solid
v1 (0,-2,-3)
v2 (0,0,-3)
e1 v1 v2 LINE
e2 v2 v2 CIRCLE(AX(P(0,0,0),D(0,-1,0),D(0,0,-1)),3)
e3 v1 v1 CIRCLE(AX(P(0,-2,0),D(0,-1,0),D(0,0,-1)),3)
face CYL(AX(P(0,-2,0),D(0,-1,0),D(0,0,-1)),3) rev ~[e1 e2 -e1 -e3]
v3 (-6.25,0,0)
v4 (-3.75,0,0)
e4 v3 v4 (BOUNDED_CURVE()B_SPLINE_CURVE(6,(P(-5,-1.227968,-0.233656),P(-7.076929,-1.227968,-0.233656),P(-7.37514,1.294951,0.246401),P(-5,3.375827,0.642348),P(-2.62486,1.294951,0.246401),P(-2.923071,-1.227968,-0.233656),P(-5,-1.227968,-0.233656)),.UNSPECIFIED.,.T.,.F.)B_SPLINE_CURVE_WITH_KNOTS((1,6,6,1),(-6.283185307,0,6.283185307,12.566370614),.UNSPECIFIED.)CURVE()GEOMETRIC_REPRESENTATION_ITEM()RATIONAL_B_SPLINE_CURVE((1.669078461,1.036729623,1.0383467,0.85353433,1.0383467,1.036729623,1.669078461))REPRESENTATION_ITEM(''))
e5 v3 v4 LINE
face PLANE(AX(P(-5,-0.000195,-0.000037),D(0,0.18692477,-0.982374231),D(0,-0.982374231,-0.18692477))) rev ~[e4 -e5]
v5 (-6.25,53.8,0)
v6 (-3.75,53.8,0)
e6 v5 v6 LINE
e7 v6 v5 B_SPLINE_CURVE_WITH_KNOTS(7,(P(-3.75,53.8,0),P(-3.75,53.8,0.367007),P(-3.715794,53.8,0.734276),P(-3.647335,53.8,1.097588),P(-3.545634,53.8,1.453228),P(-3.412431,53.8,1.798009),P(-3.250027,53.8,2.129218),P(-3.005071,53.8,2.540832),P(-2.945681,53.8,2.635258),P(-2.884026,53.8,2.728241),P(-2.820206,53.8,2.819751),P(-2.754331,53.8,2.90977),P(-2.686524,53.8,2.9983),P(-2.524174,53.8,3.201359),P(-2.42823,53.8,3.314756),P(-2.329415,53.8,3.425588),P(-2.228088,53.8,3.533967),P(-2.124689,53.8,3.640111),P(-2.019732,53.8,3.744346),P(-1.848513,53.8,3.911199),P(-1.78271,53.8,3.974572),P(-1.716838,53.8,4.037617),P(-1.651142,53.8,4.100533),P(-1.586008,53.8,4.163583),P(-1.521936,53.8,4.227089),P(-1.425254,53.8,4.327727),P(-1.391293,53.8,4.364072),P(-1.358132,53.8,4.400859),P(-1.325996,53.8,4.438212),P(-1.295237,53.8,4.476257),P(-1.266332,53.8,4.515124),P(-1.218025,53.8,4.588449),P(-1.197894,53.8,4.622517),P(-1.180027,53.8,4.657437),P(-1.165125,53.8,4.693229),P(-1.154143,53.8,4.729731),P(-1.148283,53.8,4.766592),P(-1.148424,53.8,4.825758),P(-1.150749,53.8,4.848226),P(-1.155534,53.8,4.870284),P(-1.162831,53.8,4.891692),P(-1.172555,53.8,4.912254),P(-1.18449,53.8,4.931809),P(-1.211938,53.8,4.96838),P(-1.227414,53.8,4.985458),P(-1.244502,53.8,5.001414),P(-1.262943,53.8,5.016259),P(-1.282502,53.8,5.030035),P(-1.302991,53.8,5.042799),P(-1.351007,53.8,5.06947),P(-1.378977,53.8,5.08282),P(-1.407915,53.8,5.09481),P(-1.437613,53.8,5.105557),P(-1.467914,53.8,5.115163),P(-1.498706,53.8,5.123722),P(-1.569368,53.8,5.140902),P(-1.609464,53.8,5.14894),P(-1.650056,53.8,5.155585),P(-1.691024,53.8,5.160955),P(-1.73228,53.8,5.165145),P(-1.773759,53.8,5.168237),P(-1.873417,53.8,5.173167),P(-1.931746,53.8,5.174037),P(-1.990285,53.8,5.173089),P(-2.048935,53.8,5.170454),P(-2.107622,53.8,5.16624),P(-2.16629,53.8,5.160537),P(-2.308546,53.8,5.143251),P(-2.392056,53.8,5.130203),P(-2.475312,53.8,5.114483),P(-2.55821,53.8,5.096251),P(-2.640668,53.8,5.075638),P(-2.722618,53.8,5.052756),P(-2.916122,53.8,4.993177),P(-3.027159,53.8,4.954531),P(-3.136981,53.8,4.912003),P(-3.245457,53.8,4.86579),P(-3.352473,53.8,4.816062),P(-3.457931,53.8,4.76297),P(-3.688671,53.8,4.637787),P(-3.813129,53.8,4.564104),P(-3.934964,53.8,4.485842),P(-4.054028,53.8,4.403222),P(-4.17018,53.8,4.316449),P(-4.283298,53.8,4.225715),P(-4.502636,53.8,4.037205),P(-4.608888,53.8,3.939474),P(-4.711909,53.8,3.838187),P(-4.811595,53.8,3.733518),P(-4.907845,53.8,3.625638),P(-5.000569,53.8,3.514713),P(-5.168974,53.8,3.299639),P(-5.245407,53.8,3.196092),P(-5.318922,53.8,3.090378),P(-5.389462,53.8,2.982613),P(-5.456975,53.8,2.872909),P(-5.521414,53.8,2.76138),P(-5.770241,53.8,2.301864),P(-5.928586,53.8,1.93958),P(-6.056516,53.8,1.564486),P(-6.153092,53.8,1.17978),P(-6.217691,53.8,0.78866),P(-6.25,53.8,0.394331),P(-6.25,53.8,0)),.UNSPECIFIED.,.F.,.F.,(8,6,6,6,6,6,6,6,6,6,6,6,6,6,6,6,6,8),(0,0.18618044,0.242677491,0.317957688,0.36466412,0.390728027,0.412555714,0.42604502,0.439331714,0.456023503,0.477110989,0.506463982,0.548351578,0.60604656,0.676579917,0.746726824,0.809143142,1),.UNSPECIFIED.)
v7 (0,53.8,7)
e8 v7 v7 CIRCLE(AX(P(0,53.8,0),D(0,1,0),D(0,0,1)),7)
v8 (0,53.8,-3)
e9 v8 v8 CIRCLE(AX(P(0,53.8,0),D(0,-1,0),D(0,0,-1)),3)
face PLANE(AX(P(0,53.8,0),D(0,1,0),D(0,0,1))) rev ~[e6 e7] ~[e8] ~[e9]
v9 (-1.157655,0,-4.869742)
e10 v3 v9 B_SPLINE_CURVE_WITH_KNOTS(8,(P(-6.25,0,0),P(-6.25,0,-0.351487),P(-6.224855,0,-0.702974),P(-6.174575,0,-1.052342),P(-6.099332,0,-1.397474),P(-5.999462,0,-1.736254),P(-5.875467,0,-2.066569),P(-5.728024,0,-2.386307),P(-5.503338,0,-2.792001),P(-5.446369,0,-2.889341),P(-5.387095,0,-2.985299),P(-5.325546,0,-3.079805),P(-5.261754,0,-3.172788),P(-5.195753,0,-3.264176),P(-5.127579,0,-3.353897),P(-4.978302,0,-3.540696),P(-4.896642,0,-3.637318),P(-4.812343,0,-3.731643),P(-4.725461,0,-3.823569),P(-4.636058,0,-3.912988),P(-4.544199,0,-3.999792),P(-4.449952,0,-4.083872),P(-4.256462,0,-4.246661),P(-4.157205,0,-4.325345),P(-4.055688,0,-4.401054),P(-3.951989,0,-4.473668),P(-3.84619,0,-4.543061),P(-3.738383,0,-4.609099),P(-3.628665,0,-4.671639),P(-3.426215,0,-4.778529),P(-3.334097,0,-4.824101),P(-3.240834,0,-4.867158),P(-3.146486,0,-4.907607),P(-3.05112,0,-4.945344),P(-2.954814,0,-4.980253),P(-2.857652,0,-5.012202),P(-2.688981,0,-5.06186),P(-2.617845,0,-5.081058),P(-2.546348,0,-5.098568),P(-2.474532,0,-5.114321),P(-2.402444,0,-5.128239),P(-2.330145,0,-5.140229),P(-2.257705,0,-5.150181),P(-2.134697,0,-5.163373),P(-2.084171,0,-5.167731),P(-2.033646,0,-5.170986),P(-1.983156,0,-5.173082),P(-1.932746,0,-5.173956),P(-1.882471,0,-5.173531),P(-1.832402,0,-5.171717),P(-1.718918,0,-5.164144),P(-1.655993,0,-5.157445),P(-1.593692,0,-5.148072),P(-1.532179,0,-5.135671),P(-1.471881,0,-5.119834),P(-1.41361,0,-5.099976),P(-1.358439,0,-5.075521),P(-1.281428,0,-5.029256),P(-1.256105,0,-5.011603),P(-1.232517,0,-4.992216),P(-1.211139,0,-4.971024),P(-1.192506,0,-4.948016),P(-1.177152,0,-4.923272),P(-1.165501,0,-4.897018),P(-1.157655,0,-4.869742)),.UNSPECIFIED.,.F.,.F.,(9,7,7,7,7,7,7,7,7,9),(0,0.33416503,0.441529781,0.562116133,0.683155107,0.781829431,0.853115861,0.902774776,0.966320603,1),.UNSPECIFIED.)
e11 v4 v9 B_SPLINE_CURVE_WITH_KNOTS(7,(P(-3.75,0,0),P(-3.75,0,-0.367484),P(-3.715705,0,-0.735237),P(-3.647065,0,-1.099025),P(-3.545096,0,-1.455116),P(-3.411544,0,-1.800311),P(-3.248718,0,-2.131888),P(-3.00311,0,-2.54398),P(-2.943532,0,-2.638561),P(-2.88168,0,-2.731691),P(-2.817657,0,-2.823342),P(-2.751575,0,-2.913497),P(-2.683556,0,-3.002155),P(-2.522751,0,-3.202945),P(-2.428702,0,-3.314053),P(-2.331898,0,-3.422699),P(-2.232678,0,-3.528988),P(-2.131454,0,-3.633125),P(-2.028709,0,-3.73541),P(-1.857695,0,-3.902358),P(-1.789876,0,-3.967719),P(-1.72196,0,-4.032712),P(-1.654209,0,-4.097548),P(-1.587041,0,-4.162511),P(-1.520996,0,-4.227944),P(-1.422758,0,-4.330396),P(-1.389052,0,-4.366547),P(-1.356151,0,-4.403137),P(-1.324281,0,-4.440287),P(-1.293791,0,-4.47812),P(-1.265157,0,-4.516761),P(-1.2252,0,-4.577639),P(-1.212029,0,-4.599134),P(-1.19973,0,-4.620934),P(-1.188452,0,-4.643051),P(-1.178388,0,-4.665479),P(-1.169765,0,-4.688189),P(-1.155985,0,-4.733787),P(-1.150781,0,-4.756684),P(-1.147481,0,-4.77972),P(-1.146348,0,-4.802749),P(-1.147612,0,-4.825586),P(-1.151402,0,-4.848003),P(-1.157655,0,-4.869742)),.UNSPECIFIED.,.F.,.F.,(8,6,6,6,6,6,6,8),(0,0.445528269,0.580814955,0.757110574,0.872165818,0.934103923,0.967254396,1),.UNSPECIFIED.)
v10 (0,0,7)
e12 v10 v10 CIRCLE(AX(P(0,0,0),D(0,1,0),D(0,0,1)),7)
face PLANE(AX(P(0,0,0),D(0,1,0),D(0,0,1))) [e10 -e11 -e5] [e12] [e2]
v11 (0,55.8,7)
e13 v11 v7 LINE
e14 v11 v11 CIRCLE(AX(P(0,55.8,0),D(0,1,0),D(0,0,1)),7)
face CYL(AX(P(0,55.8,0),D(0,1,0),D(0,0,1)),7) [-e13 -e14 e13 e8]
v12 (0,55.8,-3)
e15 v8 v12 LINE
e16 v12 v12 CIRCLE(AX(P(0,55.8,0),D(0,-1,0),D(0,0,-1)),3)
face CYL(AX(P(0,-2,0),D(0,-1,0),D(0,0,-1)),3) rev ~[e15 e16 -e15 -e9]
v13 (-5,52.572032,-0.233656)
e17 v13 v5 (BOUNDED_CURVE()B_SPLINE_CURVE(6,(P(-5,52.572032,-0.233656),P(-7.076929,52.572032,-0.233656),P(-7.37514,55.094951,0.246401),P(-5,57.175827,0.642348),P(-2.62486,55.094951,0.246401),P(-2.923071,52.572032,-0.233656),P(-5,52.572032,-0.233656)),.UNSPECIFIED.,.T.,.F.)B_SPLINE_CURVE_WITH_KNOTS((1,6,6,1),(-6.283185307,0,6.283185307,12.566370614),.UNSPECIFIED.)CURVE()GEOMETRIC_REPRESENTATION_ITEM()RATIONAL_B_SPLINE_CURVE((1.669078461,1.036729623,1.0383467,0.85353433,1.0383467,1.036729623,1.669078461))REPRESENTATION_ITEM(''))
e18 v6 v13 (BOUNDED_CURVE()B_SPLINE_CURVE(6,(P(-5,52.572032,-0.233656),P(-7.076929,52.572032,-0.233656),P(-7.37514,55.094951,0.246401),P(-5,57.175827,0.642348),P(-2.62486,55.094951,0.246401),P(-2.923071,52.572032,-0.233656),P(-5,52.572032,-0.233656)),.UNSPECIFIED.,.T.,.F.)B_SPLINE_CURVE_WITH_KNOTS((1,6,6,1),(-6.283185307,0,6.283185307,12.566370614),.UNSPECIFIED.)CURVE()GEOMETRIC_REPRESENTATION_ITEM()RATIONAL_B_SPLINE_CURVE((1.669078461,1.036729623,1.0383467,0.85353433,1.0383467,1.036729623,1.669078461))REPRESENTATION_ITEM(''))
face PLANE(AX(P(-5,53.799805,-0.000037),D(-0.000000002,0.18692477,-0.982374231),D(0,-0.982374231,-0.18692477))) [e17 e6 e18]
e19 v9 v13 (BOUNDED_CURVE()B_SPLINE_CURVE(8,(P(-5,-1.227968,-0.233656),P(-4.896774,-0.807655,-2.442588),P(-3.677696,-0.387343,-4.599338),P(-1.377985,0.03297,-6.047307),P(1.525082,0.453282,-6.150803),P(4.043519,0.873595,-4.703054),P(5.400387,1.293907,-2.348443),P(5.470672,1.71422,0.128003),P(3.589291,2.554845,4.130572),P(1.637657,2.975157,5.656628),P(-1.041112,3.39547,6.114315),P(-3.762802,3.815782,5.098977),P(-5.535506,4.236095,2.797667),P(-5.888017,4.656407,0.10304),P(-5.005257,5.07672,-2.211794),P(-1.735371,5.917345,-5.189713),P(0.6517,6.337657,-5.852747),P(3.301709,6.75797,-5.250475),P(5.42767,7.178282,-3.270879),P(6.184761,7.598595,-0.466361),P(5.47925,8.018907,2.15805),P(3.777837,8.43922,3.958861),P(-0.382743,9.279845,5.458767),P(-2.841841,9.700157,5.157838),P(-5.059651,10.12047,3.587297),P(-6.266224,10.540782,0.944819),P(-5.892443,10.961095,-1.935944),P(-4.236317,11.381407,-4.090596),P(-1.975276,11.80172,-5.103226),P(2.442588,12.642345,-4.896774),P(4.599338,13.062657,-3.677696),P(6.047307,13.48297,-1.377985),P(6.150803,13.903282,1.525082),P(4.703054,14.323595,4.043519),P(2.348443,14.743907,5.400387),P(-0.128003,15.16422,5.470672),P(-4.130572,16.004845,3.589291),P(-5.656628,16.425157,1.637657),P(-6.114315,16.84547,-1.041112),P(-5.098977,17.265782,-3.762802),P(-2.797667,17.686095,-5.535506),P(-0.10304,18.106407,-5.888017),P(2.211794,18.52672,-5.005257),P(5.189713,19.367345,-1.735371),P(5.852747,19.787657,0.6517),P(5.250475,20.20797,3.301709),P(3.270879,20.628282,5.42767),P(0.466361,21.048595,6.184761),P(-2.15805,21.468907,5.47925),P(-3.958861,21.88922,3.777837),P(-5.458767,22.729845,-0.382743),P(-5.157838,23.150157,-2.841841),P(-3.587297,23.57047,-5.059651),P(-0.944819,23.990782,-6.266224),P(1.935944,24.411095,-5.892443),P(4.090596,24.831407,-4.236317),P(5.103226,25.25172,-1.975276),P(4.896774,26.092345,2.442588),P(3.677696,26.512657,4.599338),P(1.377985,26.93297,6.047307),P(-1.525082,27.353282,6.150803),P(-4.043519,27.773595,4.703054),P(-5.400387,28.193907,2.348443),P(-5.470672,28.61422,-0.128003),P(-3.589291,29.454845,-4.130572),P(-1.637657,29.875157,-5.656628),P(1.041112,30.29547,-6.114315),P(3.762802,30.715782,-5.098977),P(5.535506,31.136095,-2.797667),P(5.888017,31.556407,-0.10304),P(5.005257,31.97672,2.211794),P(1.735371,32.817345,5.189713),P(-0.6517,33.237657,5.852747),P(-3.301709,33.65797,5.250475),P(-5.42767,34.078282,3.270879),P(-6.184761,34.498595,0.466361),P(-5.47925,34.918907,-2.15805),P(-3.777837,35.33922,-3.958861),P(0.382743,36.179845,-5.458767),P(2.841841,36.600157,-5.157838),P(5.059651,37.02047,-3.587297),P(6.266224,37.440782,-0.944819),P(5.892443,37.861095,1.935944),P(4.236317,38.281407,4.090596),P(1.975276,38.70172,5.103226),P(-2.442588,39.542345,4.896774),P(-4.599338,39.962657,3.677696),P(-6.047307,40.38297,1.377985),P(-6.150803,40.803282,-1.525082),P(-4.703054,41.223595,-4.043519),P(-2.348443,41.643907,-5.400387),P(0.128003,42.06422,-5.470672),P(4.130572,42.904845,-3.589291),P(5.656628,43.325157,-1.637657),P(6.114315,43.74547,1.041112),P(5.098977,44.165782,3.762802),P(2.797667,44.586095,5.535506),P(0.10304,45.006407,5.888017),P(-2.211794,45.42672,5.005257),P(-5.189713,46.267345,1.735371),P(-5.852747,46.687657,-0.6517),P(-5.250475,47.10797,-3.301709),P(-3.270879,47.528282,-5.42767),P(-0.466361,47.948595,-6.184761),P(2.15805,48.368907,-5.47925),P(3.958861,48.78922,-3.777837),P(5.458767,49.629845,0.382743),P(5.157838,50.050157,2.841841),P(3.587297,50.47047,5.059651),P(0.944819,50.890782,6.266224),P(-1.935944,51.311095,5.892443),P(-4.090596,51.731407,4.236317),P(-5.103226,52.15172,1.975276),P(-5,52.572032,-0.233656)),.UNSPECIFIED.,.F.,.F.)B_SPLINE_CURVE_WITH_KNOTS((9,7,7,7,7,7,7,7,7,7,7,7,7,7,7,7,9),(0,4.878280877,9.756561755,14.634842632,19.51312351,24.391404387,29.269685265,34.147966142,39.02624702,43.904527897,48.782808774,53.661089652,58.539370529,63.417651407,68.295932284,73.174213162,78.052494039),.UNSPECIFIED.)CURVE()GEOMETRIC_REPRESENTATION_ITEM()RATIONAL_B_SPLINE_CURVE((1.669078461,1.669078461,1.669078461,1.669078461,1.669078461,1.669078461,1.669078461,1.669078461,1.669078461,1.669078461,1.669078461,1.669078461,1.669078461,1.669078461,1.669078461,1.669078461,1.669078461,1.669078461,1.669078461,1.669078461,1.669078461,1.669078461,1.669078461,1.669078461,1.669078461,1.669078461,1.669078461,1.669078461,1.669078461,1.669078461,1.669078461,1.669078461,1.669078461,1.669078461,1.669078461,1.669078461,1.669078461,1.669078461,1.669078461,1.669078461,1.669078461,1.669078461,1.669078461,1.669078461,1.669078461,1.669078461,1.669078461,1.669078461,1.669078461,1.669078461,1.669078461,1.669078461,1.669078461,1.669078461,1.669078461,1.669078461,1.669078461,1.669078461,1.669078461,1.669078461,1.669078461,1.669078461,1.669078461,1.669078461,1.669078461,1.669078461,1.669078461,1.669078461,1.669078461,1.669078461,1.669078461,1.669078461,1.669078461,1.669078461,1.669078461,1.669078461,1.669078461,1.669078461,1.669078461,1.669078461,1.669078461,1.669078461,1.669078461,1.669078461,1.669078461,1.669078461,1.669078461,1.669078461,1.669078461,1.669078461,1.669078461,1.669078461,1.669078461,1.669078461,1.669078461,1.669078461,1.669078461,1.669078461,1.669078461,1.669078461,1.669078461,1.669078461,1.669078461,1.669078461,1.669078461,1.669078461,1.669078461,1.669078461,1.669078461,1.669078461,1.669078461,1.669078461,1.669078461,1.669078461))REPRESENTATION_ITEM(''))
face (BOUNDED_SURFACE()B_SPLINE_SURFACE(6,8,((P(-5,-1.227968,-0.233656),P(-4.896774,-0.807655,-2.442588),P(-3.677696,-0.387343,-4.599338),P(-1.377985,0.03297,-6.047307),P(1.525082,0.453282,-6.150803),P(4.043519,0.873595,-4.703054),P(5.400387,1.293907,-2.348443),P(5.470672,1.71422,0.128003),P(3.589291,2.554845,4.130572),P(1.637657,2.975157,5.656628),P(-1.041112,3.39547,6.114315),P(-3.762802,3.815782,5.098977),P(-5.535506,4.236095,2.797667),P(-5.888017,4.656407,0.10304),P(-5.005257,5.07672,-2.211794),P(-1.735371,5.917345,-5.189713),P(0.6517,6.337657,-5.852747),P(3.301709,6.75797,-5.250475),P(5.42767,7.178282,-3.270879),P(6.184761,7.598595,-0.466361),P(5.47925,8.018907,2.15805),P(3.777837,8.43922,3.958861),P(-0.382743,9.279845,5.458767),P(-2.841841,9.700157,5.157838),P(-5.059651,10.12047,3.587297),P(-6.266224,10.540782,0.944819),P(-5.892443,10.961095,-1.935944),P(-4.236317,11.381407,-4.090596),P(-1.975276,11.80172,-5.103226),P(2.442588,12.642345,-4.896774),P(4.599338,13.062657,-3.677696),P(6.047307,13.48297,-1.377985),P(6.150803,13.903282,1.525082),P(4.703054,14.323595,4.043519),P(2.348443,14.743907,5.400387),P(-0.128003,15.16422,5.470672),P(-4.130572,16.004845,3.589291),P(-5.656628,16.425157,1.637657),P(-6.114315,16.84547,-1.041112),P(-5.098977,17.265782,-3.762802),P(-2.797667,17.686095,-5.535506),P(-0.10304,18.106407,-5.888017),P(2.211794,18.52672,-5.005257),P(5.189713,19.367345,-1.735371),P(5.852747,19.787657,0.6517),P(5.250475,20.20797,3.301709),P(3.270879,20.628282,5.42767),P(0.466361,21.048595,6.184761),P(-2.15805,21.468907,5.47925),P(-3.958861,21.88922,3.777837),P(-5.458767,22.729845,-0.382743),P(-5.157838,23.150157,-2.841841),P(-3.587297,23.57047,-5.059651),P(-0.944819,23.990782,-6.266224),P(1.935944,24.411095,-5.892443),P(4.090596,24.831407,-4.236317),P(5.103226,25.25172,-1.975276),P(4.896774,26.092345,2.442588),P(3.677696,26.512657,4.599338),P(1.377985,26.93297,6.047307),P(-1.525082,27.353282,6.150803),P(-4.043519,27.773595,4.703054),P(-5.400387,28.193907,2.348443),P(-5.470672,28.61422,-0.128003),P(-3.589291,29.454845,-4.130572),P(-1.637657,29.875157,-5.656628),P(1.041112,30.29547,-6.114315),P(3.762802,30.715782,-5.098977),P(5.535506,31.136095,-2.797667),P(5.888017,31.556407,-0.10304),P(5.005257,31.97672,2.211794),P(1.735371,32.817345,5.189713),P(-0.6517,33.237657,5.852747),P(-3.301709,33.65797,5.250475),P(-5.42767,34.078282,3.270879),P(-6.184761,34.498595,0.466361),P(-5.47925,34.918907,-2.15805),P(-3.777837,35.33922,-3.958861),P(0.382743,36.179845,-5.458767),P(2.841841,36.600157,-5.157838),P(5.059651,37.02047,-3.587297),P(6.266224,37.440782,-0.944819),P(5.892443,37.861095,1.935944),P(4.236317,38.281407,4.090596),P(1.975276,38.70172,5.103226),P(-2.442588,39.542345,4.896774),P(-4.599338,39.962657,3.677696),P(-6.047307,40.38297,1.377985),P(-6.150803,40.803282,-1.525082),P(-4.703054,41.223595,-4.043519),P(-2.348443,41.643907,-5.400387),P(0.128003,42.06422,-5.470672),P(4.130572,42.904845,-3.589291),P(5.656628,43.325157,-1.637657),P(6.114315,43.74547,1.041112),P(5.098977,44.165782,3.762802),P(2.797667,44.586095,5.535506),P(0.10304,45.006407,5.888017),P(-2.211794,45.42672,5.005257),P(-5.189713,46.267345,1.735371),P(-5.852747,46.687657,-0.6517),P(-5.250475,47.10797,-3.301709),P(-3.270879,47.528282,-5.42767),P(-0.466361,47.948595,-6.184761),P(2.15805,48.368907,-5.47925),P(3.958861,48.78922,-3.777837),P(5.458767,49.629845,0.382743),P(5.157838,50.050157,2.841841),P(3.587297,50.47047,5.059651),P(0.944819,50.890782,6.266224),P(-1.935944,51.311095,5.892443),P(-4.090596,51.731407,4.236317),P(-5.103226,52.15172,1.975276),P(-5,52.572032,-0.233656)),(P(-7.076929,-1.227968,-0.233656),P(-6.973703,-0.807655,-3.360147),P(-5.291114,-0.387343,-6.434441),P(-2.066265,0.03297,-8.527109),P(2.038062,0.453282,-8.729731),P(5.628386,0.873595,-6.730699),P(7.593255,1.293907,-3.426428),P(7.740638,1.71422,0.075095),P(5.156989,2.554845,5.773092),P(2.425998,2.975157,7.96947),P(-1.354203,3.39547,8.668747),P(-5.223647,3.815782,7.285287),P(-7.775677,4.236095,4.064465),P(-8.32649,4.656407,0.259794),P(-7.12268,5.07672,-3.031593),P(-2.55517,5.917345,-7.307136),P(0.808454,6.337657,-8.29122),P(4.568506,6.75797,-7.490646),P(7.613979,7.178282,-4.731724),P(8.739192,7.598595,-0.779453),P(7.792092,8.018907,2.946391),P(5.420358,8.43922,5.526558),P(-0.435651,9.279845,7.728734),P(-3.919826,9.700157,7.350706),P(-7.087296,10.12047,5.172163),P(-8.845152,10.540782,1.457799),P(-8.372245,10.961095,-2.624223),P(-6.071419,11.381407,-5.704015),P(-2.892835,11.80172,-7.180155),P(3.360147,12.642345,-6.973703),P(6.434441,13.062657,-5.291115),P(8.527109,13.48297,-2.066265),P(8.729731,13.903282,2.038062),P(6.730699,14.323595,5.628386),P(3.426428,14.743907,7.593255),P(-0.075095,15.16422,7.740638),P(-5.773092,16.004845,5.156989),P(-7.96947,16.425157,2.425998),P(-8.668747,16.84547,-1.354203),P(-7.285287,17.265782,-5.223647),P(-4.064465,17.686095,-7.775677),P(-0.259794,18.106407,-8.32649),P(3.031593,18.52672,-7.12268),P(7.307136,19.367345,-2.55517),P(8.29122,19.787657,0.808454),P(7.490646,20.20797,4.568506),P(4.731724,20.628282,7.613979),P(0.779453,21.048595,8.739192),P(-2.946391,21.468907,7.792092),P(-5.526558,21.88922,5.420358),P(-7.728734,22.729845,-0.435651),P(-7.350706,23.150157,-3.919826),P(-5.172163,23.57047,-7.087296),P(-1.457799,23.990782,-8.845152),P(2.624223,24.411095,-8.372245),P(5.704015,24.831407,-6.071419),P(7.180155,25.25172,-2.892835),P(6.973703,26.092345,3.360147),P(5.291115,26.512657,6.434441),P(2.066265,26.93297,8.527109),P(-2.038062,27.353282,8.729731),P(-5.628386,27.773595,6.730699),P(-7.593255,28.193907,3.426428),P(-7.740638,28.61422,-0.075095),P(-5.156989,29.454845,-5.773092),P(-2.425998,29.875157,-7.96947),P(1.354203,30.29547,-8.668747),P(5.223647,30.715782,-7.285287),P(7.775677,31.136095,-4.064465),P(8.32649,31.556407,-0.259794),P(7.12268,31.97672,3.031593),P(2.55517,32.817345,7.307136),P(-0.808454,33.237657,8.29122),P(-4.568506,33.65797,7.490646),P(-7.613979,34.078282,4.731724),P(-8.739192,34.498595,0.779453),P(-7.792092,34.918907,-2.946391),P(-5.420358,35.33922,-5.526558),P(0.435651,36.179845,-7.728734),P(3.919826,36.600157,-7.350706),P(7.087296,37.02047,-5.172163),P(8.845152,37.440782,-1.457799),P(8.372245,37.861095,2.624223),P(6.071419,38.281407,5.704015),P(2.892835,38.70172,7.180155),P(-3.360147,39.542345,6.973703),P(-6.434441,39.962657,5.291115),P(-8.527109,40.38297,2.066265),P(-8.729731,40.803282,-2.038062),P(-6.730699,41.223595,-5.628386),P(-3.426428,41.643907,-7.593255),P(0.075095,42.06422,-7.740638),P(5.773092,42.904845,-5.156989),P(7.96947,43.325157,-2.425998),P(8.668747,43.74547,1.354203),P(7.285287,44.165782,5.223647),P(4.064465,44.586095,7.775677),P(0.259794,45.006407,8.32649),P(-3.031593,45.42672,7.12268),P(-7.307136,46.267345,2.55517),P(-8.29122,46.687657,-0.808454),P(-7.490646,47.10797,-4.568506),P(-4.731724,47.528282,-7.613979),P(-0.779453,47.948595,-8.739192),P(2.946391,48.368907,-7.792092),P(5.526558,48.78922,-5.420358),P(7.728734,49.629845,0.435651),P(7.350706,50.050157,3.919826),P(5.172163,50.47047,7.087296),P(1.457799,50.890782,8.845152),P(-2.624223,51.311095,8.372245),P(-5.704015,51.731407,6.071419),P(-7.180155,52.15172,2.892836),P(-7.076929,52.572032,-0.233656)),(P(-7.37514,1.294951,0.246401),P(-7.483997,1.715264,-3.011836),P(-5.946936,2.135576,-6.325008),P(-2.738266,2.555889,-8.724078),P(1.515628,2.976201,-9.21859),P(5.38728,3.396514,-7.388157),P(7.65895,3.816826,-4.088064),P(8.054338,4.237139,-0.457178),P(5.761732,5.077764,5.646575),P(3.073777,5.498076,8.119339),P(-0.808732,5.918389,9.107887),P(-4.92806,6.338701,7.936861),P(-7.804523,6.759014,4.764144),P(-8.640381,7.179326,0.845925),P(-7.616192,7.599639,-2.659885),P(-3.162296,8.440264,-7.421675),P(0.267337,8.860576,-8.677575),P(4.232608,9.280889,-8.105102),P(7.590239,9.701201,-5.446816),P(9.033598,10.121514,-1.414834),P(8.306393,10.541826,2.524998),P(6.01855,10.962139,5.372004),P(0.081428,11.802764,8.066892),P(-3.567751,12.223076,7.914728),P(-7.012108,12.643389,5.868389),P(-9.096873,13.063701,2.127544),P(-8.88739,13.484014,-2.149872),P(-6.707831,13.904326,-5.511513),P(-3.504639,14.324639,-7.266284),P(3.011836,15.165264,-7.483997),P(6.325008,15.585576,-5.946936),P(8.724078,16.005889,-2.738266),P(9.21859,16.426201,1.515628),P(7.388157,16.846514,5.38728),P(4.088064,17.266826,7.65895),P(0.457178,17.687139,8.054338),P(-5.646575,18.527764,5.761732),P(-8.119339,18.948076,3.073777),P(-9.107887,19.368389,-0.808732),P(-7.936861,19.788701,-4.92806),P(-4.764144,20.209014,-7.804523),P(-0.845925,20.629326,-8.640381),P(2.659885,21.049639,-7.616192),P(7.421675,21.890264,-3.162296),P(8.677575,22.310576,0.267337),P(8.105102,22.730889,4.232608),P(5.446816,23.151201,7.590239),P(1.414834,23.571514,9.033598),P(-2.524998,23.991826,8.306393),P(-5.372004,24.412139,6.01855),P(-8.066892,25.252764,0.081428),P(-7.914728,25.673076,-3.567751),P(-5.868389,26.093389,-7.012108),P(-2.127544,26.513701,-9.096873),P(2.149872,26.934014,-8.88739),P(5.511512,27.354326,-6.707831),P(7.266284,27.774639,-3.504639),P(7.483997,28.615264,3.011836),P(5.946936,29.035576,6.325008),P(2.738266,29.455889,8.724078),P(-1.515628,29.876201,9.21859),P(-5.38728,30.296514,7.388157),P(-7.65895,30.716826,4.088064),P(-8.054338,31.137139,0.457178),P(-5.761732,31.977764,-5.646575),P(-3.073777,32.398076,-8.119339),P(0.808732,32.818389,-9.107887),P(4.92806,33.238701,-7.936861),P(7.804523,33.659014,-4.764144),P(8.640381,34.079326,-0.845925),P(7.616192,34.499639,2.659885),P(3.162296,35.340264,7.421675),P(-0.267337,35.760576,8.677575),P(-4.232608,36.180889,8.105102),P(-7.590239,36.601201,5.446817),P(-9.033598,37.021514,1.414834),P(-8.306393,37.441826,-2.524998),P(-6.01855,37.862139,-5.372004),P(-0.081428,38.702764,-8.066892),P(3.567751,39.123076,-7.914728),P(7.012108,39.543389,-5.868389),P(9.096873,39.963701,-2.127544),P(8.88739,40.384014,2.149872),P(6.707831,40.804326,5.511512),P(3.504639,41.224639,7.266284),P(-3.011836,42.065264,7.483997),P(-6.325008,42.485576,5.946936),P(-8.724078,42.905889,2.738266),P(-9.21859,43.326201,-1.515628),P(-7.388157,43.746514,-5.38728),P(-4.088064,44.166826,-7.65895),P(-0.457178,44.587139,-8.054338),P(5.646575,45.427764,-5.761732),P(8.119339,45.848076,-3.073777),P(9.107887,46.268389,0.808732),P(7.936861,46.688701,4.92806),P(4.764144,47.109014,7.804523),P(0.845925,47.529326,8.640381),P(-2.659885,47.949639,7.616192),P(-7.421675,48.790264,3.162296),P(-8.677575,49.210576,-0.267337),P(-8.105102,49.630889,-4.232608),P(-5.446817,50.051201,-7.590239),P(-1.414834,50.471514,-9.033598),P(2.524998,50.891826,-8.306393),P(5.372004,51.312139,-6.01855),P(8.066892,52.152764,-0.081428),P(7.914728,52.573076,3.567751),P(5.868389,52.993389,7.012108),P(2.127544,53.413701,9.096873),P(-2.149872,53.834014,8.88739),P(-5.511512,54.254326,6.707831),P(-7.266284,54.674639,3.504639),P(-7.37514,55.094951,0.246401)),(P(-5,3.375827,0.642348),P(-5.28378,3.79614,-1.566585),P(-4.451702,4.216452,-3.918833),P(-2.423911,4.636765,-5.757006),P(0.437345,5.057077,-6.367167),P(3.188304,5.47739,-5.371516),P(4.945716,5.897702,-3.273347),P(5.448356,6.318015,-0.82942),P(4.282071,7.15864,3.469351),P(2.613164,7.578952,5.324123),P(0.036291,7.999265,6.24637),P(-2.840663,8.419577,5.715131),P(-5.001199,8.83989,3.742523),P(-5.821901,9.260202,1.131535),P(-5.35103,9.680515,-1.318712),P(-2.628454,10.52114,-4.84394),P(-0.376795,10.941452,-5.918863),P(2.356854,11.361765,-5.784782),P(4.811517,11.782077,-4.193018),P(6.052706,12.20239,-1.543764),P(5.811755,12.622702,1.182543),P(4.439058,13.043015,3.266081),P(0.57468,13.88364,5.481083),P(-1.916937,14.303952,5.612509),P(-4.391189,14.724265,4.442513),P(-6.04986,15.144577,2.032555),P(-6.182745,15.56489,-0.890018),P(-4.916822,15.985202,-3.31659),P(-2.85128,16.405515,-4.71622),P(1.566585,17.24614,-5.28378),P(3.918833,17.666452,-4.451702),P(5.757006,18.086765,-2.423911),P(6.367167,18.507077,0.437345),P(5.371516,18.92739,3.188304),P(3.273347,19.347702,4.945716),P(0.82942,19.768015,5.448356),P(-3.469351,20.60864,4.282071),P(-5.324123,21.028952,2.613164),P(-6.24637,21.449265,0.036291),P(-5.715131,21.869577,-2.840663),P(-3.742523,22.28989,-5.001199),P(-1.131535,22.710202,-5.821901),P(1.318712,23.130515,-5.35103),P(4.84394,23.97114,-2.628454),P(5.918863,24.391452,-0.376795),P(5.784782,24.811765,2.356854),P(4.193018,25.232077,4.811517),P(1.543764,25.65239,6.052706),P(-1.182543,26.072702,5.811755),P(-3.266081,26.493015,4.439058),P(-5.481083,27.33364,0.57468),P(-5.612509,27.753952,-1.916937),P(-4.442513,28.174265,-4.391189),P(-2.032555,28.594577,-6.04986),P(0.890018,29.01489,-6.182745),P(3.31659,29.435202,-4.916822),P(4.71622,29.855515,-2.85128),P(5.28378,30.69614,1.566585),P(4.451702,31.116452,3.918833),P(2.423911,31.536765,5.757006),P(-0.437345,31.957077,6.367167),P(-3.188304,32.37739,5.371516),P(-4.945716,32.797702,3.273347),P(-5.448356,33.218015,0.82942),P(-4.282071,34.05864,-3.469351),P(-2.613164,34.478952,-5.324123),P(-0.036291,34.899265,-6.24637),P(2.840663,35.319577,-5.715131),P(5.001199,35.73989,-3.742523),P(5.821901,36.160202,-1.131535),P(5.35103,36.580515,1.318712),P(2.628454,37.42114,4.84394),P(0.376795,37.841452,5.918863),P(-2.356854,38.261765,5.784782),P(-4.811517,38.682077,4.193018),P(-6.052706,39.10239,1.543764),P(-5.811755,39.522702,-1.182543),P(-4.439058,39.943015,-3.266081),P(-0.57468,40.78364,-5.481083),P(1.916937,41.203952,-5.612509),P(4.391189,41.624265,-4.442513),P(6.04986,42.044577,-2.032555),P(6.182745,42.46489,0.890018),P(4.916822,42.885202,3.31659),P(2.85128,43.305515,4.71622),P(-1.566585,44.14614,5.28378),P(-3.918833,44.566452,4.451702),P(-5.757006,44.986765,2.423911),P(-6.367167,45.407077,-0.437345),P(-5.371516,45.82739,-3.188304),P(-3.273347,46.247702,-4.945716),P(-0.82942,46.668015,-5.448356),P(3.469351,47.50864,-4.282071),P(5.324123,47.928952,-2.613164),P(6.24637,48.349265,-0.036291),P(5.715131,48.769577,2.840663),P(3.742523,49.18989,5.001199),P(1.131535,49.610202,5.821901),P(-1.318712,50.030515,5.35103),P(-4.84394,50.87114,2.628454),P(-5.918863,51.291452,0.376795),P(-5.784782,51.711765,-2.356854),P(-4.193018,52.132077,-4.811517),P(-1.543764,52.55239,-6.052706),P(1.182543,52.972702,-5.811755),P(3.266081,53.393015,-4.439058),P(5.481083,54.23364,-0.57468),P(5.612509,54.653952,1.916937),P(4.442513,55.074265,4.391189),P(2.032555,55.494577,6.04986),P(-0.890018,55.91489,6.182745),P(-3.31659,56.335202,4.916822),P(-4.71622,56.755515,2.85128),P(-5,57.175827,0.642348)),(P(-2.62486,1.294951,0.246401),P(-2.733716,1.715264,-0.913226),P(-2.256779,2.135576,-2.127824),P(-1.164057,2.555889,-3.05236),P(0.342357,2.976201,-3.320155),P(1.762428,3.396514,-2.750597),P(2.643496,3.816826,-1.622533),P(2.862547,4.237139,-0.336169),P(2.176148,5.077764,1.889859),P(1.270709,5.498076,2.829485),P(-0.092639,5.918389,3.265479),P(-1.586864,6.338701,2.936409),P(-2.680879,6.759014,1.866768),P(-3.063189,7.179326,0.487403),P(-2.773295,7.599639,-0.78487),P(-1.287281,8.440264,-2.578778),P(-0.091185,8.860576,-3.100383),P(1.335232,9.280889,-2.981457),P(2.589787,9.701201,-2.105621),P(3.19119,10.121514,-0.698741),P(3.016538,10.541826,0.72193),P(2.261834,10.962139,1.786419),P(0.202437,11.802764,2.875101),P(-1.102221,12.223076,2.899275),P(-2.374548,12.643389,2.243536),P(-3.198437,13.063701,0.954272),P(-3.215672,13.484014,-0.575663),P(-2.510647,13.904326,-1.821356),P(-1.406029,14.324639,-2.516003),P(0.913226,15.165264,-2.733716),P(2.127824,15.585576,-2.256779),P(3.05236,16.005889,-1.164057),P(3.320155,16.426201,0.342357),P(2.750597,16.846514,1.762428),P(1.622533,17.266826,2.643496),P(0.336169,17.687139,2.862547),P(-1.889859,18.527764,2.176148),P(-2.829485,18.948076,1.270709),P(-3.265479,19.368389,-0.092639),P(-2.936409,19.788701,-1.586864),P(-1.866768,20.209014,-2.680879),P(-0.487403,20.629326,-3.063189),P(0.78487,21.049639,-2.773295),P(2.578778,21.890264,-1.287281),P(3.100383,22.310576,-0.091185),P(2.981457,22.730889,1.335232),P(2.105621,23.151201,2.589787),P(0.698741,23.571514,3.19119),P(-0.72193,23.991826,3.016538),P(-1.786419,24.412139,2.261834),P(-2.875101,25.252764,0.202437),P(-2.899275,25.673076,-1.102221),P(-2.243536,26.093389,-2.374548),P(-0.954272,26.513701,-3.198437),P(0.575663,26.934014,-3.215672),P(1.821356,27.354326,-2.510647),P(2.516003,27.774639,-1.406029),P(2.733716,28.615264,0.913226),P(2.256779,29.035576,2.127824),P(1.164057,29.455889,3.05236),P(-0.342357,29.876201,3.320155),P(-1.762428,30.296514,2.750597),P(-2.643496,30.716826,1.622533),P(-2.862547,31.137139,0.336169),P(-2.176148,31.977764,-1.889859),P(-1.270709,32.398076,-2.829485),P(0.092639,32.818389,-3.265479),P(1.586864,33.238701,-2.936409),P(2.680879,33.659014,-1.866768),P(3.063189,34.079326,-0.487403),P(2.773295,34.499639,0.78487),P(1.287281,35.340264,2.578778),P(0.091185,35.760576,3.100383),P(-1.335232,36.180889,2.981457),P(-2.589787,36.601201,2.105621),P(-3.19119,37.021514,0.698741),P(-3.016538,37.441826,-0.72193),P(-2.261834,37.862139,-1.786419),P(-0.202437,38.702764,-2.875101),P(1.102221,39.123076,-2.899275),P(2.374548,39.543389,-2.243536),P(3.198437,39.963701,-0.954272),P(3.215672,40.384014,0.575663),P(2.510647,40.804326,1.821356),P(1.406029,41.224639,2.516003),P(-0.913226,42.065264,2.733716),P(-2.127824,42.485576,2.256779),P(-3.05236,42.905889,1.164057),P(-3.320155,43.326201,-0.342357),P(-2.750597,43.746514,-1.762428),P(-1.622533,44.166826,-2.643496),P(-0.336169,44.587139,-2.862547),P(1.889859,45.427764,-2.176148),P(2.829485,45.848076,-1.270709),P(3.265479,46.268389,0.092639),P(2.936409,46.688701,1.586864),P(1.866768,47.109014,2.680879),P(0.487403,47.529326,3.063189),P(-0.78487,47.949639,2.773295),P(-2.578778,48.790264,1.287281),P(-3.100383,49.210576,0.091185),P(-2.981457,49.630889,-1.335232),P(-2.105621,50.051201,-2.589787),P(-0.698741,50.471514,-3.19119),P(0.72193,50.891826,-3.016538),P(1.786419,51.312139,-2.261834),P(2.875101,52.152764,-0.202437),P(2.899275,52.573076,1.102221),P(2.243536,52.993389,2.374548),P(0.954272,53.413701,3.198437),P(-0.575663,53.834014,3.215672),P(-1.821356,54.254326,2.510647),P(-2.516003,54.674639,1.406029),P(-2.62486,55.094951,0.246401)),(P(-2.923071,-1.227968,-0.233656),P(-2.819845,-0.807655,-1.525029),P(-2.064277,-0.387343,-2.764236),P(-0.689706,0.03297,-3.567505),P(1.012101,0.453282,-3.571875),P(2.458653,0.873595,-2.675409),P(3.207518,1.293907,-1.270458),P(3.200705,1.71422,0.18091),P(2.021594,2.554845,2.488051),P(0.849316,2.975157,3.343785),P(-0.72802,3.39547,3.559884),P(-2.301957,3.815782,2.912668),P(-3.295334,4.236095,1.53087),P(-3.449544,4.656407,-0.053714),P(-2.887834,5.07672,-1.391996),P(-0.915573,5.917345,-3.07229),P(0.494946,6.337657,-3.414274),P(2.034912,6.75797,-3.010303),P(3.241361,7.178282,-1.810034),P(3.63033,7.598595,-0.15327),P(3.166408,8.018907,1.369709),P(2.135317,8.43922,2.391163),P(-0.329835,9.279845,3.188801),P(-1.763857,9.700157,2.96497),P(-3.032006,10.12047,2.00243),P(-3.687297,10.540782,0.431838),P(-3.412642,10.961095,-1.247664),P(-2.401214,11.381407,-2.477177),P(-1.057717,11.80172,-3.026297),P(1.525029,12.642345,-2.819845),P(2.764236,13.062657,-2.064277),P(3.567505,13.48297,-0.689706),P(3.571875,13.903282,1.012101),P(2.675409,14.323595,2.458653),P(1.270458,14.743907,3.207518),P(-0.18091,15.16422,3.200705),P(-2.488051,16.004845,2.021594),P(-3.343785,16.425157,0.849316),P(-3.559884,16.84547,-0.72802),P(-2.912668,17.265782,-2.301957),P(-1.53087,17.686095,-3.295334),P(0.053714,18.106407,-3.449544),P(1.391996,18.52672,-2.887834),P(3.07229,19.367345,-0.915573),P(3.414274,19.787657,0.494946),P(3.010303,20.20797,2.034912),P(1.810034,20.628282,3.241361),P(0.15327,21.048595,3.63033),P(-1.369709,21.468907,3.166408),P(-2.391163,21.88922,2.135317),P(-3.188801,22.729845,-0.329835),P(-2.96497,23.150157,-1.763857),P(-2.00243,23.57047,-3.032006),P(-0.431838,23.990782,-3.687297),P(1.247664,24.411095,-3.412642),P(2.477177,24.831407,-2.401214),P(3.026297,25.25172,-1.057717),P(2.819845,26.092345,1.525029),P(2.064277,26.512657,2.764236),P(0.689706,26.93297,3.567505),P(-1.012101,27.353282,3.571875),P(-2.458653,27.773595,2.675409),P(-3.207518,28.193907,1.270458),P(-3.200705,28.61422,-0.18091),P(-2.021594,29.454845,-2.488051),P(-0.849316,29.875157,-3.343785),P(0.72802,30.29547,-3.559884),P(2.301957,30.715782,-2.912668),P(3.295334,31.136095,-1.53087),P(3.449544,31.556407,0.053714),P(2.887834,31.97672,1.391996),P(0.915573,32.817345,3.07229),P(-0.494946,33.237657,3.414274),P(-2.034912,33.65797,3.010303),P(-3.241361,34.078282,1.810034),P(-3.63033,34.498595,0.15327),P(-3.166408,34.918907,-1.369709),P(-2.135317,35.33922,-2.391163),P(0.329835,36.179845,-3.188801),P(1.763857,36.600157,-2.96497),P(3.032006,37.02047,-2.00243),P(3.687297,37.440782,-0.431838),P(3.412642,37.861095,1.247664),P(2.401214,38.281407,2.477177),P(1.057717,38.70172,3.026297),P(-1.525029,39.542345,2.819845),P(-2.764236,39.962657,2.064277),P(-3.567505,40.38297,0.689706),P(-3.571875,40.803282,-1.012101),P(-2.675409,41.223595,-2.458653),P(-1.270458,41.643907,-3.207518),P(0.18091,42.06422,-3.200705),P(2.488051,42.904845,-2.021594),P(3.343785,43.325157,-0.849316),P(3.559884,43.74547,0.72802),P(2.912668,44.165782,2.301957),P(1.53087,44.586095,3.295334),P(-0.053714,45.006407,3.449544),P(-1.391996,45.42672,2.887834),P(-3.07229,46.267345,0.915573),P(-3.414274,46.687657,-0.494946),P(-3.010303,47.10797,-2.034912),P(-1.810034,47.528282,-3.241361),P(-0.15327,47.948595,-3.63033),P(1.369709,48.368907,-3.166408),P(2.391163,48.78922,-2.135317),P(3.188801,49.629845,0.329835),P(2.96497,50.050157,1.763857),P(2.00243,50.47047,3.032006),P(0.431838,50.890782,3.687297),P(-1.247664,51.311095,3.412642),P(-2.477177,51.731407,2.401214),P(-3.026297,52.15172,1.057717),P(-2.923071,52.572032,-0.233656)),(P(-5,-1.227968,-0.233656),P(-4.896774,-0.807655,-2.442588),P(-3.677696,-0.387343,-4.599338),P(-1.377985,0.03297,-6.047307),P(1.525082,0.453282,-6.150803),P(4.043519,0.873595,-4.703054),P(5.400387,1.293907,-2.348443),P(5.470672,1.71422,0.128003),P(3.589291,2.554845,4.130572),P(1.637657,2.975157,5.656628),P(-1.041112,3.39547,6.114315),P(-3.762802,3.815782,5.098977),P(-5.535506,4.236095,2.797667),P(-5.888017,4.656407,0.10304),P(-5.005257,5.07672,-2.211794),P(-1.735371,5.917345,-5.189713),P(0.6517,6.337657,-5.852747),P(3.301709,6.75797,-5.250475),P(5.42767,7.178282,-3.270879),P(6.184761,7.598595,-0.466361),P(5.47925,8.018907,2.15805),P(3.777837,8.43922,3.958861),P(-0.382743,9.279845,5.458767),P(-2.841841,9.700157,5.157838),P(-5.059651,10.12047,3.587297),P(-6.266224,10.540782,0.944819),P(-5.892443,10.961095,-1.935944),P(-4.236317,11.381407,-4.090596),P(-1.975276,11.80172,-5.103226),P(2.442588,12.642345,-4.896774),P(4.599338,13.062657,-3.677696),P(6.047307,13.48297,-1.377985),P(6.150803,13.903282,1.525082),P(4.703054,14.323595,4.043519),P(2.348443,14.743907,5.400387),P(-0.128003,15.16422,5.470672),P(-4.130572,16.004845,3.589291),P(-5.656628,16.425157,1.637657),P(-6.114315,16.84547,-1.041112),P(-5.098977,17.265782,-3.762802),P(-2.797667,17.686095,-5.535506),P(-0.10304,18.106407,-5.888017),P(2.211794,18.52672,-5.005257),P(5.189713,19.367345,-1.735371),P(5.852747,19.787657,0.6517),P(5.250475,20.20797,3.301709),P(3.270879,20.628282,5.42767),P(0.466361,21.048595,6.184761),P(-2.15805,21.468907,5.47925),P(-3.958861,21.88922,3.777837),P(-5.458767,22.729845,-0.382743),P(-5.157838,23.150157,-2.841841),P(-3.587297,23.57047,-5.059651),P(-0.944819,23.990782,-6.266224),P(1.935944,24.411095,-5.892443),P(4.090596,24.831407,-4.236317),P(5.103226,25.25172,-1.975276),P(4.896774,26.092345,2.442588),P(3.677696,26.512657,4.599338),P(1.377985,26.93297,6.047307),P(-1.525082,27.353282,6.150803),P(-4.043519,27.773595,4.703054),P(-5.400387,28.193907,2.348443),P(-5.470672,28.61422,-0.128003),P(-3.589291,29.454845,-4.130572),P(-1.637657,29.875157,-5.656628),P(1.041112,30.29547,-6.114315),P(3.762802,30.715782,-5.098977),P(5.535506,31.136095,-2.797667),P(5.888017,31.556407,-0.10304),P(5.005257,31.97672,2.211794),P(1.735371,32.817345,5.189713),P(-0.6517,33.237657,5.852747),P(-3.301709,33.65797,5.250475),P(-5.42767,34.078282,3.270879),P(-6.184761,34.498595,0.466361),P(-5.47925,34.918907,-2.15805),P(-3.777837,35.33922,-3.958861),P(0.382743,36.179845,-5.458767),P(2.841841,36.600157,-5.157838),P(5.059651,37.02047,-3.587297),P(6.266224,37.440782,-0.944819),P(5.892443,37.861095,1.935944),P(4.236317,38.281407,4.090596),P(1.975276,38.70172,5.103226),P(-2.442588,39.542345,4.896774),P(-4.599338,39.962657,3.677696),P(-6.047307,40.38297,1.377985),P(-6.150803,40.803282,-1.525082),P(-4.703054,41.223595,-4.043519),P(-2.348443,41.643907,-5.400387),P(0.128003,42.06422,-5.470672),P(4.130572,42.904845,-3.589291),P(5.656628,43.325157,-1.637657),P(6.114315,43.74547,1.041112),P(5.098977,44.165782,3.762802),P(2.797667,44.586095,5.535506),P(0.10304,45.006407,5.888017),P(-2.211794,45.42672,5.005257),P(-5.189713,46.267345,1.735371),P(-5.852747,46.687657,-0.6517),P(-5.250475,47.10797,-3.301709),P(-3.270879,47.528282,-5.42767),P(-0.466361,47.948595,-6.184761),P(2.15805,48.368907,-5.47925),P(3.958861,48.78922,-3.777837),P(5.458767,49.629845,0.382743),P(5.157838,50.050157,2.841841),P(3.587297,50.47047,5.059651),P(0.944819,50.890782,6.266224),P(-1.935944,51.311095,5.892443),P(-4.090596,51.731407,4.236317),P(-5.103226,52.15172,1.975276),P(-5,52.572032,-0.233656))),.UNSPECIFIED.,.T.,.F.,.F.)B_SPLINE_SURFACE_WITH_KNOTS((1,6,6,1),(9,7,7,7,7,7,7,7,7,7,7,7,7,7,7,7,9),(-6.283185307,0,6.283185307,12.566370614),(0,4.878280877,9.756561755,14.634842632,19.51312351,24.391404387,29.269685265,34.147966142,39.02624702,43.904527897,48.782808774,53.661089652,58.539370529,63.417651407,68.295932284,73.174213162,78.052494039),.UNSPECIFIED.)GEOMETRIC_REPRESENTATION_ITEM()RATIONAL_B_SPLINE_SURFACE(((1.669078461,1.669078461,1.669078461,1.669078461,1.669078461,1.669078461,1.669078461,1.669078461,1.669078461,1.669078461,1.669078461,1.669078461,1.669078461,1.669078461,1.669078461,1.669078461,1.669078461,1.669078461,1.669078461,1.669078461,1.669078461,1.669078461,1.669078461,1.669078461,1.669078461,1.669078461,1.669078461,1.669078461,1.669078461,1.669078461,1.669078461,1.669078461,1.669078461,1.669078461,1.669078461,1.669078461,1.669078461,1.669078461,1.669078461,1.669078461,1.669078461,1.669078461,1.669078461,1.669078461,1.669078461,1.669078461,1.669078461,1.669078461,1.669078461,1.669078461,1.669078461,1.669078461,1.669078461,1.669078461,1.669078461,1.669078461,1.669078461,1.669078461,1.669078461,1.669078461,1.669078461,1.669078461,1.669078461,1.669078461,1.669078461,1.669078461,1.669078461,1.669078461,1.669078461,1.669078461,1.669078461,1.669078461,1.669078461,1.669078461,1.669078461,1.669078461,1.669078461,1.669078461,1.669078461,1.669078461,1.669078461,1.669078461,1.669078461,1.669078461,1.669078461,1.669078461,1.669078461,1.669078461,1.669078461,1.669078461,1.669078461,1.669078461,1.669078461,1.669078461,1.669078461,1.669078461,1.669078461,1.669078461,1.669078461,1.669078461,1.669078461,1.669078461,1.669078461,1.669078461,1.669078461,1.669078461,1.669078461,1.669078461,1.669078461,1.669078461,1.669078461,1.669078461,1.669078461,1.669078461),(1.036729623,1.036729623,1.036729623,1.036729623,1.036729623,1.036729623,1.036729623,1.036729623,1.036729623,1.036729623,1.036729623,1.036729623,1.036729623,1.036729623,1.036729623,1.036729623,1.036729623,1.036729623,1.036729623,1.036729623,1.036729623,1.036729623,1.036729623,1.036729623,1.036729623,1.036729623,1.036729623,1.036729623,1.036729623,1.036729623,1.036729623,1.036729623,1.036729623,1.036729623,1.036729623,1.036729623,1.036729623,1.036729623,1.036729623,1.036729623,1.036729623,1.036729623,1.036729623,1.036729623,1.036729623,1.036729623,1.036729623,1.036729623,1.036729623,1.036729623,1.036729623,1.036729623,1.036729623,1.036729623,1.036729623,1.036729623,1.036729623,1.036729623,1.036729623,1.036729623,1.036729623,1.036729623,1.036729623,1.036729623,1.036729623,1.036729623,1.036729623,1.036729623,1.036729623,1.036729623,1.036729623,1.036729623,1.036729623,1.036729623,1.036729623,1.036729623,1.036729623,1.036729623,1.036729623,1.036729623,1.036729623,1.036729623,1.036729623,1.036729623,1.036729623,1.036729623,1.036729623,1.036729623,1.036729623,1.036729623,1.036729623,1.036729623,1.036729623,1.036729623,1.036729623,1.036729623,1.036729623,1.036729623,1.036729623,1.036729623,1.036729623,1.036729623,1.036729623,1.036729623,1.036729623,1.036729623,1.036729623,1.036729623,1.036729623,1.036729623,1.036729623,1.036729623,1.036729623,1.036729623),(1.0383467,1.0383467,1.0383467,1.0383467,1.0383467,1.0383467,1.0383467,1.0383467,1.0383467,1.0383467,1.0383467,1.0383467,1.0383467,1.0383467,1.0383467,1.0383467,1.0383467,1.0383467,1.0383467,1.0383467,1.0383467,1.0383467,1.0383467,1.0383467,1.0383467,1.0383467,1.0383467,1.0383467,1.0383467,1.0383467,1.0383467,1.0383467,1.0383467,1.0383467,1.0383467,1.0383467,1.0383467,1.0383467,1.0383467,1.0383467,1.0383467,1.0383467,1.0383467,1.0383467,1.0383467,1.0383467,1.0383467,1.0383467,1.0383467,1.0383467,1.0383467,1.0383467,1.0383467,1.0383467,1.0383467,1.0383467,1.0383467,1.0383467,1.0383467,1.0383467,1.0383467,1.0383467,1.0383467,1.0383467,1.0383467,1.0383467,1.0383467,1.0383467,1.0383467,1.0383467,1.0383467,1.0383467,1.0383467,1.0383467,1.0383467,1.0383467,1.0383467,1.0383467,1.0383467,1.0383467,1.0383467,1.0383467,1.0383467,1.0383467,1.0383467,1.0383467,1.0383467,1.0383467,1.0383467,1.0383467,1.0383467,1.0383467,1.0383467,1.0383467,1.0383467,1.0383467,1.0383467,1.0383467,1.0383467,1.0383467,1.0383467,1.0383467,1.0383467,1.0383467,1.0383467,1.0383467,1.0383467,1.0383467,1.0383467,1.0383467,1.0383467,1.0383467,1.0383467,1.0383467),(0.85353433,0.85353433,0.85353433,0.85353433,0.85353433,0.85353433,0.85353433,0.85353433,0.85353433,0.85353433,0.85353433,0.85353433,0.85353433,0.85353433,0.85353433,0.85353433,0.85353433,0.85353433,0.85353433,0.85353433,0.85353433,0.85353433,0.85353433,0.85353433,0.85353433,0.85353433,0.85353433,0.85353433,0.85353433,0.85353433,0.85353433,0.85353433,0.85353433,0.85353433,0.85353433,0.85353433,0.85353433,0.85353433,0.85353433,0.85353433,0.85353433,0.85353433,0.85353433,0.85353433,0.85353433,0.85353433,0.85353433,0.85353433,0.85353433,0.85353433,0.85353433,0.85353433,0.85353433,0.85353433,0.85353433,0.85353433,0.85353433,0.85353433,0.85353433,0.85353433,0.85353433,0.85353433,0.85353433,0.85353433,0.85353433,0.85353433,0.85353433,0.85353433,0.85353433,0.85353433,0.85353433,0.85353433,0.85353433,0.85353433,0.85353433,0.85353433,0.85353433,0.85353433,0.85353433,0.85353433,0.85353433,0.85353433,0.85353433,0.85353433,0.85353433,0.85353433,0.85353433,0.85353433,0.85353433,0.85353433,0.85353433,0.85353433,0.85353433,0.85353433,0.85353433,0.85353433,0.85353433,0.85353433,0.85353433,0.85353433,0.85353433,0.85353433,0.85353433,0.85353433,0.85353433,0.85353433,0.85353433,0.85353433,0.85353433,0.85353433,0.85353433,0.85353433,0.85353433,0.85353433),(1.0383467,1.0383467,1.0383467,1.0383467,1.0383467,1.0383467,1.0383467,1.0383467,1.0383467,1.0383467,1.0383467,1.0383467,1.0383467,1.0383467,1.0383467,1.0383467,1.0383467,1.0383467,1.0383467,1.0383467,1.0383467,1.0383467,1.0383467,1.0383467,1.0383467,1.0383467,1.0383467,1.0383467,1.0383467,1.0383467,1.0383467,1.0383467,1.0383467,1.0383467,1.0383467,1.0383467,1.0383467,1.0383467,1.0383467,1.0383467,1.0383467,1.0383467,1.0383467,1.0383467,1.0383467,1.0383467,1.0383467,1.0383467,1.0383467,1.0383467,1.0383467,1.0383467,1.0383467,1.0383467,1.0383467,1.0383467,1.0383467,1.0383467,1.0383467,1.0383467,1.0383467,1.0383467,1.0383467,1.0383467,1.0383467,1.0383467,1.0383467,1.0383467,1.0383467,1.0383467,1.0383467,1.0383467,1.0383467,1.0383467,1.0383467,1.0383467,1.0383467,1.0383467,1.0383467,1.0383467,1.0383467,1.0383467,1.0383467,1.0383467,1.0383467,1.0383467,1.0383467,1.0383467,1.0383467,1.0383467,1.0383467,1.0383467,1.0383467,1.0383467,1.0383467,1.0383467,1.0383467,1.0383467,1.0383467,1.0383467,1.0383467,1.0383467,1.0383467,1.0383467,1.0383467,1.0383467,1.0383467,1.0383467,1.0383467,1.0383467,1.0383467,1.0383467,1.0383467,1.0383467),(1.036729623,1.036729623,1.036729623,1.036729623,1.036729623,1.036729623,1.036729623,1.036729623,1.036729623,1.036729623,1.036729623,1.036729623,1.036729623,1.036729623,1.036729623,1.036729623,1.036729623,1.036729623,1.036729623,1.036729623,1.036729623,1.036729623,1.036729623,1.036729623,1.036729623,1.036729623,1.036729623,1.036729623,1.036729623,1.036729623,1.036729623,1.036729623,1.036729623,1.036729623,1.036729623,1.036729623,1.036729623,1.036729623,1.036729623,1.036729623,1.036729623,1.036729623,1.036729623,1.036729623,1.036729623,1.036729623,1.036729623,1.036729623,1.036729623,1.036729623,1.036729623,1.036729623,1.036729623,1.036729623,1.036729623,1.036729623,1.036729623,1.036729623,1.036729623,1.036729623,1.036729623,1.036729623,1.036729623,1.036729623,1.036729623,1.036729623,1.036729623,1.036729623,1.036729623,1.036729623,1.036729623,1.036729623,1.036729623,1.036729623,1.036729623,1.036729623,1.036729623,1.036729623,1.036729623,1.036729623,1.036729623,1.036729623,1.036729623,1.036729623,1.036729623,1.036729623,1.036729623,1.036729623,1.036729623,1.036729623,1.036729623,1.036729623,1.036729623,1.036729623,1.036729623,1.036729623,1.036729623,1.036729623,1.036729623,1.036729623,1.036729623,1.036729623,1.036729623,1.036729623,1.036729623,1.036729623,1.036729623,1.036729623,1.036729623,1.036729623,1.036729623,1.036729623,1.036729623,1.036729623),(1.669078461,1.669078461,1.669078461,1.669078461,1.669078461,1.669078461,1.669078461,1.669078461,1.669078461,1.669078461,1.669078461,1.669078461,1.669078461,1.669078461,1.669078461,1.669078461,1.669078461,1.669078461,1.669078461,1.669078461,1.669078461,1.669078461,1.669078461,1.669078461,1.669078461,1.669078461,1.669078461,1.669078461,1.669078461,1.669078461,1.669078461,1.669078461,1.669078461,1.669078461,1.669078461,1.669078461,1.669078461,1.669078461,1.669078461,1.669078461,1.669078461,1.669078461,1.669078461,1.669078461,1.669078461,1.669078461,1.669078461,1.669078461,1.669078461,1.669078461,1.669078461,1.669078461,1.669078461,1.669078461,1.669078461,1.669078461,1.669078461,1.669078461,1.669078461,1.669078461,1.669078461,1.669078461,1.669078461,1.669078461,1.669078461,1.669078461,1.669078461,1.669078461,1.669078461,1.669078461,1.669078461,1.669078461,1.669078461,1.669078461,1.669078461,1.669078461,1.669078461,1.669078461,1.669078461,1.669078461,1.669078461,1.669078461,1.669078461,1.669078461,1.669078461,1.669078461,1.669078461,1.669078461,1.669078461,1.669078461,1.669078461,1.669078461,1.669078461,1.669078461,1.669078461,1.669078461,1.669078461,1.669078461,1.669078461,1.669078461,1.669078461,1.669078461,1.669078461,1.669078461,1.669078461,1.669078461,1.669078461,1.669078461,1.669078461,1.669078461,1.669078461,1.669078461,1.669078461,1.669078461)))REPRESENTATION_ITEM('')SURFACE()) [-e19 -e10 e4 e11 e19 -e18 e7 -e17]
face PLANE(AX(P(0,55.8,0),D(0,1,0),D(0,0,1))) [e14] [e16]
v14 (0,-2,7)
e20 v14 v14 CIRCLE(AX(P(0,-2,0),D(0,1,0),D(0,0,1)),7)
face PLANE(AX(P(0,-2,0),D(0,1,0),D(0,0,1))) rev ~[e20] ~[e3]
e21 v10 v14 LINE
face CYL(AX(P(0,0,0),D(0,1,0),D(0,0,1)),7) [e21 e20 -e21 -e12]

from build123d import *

# Parameters (mm, degrees)
BODY_PITCH       = 5.977777778
BODY_HEIGHT      = 53.8
BODY_RADIUS      = 5
BODY_START_ANGLE = -90
BODY_PROFILE_R   = 1.25
SKETCH17_R       = 7
BOTTOM_DEPTH     = 2
TOP_START        = 2
SKETCH24_R       = 7
TOP_DEPTH        = 2
SKETCH25_R       = 3
AXIS_HOLE_DEPTH  = 59.641623467


with BuildPart() as part:
    # Body: sweep along a helix
    with BuildLine() as body_path:
        add(Helix(BODY_PITCH, BODY_HEIGHT, BODY_RADIUS, center=(0, 0, 0), direction=(0, 1, 0), lefthand=True, mode=Mode.PRIVATE).rotate(Axis((0, 0, 0), (0, 1, 0)), BODY_START_ANGLE))
    # Body profile (on start of the path) → Body (sweep)
    with BuildSketch(Plane(origin=(-5, 0, 0), x_dir=(0, -0.9823742312762618, -0.18692477022688508), z_dir=(-1.416773812640865e-13, 0.18692477022688508, -0.9823742312762618))):
        Circle(BODY_PROFILE_R)
    sweep(path=body_path.line, is_frenet=True)

    # Sketch17 → Bottom (add)
    with BuildSketch(Plane(origin=(0, 0, 0), x_dir=(1, 0, 0), z_dir=(0, 1, 0))):
        with Locations(Location((0, 0, 0), (0, 0, 270))):
            Circle(SKETCH17_R)
    extrude(amount=-BOTTOM_DEPTH)

    # Sketch24 → Top (add)
    with BuildSketch(Plane(origin=(0, 53.8, 0), x_dir=(1, 0, 0), z_dir=(0, 1, 0)).offset(TOP_START)):
        with Locations(Location((0, 0, 0), (0, 0, 270))):
            Circle(SKETCH24_R)
    extrude(amount=-TOP_DEPTH)

    # Sketch25 → Axis_Hole (cut, through all)
    with BuildSketch(Plane.XZ.offset(2)):
        with Locations(Location((0, 0, 0), (0, 0, 270))):
            Circle(SKETCH25_R)
    extrude(amount=-AXIS_HOLE_DEPTH, mode=Mode.SUBTRACT)


solid = part.part
